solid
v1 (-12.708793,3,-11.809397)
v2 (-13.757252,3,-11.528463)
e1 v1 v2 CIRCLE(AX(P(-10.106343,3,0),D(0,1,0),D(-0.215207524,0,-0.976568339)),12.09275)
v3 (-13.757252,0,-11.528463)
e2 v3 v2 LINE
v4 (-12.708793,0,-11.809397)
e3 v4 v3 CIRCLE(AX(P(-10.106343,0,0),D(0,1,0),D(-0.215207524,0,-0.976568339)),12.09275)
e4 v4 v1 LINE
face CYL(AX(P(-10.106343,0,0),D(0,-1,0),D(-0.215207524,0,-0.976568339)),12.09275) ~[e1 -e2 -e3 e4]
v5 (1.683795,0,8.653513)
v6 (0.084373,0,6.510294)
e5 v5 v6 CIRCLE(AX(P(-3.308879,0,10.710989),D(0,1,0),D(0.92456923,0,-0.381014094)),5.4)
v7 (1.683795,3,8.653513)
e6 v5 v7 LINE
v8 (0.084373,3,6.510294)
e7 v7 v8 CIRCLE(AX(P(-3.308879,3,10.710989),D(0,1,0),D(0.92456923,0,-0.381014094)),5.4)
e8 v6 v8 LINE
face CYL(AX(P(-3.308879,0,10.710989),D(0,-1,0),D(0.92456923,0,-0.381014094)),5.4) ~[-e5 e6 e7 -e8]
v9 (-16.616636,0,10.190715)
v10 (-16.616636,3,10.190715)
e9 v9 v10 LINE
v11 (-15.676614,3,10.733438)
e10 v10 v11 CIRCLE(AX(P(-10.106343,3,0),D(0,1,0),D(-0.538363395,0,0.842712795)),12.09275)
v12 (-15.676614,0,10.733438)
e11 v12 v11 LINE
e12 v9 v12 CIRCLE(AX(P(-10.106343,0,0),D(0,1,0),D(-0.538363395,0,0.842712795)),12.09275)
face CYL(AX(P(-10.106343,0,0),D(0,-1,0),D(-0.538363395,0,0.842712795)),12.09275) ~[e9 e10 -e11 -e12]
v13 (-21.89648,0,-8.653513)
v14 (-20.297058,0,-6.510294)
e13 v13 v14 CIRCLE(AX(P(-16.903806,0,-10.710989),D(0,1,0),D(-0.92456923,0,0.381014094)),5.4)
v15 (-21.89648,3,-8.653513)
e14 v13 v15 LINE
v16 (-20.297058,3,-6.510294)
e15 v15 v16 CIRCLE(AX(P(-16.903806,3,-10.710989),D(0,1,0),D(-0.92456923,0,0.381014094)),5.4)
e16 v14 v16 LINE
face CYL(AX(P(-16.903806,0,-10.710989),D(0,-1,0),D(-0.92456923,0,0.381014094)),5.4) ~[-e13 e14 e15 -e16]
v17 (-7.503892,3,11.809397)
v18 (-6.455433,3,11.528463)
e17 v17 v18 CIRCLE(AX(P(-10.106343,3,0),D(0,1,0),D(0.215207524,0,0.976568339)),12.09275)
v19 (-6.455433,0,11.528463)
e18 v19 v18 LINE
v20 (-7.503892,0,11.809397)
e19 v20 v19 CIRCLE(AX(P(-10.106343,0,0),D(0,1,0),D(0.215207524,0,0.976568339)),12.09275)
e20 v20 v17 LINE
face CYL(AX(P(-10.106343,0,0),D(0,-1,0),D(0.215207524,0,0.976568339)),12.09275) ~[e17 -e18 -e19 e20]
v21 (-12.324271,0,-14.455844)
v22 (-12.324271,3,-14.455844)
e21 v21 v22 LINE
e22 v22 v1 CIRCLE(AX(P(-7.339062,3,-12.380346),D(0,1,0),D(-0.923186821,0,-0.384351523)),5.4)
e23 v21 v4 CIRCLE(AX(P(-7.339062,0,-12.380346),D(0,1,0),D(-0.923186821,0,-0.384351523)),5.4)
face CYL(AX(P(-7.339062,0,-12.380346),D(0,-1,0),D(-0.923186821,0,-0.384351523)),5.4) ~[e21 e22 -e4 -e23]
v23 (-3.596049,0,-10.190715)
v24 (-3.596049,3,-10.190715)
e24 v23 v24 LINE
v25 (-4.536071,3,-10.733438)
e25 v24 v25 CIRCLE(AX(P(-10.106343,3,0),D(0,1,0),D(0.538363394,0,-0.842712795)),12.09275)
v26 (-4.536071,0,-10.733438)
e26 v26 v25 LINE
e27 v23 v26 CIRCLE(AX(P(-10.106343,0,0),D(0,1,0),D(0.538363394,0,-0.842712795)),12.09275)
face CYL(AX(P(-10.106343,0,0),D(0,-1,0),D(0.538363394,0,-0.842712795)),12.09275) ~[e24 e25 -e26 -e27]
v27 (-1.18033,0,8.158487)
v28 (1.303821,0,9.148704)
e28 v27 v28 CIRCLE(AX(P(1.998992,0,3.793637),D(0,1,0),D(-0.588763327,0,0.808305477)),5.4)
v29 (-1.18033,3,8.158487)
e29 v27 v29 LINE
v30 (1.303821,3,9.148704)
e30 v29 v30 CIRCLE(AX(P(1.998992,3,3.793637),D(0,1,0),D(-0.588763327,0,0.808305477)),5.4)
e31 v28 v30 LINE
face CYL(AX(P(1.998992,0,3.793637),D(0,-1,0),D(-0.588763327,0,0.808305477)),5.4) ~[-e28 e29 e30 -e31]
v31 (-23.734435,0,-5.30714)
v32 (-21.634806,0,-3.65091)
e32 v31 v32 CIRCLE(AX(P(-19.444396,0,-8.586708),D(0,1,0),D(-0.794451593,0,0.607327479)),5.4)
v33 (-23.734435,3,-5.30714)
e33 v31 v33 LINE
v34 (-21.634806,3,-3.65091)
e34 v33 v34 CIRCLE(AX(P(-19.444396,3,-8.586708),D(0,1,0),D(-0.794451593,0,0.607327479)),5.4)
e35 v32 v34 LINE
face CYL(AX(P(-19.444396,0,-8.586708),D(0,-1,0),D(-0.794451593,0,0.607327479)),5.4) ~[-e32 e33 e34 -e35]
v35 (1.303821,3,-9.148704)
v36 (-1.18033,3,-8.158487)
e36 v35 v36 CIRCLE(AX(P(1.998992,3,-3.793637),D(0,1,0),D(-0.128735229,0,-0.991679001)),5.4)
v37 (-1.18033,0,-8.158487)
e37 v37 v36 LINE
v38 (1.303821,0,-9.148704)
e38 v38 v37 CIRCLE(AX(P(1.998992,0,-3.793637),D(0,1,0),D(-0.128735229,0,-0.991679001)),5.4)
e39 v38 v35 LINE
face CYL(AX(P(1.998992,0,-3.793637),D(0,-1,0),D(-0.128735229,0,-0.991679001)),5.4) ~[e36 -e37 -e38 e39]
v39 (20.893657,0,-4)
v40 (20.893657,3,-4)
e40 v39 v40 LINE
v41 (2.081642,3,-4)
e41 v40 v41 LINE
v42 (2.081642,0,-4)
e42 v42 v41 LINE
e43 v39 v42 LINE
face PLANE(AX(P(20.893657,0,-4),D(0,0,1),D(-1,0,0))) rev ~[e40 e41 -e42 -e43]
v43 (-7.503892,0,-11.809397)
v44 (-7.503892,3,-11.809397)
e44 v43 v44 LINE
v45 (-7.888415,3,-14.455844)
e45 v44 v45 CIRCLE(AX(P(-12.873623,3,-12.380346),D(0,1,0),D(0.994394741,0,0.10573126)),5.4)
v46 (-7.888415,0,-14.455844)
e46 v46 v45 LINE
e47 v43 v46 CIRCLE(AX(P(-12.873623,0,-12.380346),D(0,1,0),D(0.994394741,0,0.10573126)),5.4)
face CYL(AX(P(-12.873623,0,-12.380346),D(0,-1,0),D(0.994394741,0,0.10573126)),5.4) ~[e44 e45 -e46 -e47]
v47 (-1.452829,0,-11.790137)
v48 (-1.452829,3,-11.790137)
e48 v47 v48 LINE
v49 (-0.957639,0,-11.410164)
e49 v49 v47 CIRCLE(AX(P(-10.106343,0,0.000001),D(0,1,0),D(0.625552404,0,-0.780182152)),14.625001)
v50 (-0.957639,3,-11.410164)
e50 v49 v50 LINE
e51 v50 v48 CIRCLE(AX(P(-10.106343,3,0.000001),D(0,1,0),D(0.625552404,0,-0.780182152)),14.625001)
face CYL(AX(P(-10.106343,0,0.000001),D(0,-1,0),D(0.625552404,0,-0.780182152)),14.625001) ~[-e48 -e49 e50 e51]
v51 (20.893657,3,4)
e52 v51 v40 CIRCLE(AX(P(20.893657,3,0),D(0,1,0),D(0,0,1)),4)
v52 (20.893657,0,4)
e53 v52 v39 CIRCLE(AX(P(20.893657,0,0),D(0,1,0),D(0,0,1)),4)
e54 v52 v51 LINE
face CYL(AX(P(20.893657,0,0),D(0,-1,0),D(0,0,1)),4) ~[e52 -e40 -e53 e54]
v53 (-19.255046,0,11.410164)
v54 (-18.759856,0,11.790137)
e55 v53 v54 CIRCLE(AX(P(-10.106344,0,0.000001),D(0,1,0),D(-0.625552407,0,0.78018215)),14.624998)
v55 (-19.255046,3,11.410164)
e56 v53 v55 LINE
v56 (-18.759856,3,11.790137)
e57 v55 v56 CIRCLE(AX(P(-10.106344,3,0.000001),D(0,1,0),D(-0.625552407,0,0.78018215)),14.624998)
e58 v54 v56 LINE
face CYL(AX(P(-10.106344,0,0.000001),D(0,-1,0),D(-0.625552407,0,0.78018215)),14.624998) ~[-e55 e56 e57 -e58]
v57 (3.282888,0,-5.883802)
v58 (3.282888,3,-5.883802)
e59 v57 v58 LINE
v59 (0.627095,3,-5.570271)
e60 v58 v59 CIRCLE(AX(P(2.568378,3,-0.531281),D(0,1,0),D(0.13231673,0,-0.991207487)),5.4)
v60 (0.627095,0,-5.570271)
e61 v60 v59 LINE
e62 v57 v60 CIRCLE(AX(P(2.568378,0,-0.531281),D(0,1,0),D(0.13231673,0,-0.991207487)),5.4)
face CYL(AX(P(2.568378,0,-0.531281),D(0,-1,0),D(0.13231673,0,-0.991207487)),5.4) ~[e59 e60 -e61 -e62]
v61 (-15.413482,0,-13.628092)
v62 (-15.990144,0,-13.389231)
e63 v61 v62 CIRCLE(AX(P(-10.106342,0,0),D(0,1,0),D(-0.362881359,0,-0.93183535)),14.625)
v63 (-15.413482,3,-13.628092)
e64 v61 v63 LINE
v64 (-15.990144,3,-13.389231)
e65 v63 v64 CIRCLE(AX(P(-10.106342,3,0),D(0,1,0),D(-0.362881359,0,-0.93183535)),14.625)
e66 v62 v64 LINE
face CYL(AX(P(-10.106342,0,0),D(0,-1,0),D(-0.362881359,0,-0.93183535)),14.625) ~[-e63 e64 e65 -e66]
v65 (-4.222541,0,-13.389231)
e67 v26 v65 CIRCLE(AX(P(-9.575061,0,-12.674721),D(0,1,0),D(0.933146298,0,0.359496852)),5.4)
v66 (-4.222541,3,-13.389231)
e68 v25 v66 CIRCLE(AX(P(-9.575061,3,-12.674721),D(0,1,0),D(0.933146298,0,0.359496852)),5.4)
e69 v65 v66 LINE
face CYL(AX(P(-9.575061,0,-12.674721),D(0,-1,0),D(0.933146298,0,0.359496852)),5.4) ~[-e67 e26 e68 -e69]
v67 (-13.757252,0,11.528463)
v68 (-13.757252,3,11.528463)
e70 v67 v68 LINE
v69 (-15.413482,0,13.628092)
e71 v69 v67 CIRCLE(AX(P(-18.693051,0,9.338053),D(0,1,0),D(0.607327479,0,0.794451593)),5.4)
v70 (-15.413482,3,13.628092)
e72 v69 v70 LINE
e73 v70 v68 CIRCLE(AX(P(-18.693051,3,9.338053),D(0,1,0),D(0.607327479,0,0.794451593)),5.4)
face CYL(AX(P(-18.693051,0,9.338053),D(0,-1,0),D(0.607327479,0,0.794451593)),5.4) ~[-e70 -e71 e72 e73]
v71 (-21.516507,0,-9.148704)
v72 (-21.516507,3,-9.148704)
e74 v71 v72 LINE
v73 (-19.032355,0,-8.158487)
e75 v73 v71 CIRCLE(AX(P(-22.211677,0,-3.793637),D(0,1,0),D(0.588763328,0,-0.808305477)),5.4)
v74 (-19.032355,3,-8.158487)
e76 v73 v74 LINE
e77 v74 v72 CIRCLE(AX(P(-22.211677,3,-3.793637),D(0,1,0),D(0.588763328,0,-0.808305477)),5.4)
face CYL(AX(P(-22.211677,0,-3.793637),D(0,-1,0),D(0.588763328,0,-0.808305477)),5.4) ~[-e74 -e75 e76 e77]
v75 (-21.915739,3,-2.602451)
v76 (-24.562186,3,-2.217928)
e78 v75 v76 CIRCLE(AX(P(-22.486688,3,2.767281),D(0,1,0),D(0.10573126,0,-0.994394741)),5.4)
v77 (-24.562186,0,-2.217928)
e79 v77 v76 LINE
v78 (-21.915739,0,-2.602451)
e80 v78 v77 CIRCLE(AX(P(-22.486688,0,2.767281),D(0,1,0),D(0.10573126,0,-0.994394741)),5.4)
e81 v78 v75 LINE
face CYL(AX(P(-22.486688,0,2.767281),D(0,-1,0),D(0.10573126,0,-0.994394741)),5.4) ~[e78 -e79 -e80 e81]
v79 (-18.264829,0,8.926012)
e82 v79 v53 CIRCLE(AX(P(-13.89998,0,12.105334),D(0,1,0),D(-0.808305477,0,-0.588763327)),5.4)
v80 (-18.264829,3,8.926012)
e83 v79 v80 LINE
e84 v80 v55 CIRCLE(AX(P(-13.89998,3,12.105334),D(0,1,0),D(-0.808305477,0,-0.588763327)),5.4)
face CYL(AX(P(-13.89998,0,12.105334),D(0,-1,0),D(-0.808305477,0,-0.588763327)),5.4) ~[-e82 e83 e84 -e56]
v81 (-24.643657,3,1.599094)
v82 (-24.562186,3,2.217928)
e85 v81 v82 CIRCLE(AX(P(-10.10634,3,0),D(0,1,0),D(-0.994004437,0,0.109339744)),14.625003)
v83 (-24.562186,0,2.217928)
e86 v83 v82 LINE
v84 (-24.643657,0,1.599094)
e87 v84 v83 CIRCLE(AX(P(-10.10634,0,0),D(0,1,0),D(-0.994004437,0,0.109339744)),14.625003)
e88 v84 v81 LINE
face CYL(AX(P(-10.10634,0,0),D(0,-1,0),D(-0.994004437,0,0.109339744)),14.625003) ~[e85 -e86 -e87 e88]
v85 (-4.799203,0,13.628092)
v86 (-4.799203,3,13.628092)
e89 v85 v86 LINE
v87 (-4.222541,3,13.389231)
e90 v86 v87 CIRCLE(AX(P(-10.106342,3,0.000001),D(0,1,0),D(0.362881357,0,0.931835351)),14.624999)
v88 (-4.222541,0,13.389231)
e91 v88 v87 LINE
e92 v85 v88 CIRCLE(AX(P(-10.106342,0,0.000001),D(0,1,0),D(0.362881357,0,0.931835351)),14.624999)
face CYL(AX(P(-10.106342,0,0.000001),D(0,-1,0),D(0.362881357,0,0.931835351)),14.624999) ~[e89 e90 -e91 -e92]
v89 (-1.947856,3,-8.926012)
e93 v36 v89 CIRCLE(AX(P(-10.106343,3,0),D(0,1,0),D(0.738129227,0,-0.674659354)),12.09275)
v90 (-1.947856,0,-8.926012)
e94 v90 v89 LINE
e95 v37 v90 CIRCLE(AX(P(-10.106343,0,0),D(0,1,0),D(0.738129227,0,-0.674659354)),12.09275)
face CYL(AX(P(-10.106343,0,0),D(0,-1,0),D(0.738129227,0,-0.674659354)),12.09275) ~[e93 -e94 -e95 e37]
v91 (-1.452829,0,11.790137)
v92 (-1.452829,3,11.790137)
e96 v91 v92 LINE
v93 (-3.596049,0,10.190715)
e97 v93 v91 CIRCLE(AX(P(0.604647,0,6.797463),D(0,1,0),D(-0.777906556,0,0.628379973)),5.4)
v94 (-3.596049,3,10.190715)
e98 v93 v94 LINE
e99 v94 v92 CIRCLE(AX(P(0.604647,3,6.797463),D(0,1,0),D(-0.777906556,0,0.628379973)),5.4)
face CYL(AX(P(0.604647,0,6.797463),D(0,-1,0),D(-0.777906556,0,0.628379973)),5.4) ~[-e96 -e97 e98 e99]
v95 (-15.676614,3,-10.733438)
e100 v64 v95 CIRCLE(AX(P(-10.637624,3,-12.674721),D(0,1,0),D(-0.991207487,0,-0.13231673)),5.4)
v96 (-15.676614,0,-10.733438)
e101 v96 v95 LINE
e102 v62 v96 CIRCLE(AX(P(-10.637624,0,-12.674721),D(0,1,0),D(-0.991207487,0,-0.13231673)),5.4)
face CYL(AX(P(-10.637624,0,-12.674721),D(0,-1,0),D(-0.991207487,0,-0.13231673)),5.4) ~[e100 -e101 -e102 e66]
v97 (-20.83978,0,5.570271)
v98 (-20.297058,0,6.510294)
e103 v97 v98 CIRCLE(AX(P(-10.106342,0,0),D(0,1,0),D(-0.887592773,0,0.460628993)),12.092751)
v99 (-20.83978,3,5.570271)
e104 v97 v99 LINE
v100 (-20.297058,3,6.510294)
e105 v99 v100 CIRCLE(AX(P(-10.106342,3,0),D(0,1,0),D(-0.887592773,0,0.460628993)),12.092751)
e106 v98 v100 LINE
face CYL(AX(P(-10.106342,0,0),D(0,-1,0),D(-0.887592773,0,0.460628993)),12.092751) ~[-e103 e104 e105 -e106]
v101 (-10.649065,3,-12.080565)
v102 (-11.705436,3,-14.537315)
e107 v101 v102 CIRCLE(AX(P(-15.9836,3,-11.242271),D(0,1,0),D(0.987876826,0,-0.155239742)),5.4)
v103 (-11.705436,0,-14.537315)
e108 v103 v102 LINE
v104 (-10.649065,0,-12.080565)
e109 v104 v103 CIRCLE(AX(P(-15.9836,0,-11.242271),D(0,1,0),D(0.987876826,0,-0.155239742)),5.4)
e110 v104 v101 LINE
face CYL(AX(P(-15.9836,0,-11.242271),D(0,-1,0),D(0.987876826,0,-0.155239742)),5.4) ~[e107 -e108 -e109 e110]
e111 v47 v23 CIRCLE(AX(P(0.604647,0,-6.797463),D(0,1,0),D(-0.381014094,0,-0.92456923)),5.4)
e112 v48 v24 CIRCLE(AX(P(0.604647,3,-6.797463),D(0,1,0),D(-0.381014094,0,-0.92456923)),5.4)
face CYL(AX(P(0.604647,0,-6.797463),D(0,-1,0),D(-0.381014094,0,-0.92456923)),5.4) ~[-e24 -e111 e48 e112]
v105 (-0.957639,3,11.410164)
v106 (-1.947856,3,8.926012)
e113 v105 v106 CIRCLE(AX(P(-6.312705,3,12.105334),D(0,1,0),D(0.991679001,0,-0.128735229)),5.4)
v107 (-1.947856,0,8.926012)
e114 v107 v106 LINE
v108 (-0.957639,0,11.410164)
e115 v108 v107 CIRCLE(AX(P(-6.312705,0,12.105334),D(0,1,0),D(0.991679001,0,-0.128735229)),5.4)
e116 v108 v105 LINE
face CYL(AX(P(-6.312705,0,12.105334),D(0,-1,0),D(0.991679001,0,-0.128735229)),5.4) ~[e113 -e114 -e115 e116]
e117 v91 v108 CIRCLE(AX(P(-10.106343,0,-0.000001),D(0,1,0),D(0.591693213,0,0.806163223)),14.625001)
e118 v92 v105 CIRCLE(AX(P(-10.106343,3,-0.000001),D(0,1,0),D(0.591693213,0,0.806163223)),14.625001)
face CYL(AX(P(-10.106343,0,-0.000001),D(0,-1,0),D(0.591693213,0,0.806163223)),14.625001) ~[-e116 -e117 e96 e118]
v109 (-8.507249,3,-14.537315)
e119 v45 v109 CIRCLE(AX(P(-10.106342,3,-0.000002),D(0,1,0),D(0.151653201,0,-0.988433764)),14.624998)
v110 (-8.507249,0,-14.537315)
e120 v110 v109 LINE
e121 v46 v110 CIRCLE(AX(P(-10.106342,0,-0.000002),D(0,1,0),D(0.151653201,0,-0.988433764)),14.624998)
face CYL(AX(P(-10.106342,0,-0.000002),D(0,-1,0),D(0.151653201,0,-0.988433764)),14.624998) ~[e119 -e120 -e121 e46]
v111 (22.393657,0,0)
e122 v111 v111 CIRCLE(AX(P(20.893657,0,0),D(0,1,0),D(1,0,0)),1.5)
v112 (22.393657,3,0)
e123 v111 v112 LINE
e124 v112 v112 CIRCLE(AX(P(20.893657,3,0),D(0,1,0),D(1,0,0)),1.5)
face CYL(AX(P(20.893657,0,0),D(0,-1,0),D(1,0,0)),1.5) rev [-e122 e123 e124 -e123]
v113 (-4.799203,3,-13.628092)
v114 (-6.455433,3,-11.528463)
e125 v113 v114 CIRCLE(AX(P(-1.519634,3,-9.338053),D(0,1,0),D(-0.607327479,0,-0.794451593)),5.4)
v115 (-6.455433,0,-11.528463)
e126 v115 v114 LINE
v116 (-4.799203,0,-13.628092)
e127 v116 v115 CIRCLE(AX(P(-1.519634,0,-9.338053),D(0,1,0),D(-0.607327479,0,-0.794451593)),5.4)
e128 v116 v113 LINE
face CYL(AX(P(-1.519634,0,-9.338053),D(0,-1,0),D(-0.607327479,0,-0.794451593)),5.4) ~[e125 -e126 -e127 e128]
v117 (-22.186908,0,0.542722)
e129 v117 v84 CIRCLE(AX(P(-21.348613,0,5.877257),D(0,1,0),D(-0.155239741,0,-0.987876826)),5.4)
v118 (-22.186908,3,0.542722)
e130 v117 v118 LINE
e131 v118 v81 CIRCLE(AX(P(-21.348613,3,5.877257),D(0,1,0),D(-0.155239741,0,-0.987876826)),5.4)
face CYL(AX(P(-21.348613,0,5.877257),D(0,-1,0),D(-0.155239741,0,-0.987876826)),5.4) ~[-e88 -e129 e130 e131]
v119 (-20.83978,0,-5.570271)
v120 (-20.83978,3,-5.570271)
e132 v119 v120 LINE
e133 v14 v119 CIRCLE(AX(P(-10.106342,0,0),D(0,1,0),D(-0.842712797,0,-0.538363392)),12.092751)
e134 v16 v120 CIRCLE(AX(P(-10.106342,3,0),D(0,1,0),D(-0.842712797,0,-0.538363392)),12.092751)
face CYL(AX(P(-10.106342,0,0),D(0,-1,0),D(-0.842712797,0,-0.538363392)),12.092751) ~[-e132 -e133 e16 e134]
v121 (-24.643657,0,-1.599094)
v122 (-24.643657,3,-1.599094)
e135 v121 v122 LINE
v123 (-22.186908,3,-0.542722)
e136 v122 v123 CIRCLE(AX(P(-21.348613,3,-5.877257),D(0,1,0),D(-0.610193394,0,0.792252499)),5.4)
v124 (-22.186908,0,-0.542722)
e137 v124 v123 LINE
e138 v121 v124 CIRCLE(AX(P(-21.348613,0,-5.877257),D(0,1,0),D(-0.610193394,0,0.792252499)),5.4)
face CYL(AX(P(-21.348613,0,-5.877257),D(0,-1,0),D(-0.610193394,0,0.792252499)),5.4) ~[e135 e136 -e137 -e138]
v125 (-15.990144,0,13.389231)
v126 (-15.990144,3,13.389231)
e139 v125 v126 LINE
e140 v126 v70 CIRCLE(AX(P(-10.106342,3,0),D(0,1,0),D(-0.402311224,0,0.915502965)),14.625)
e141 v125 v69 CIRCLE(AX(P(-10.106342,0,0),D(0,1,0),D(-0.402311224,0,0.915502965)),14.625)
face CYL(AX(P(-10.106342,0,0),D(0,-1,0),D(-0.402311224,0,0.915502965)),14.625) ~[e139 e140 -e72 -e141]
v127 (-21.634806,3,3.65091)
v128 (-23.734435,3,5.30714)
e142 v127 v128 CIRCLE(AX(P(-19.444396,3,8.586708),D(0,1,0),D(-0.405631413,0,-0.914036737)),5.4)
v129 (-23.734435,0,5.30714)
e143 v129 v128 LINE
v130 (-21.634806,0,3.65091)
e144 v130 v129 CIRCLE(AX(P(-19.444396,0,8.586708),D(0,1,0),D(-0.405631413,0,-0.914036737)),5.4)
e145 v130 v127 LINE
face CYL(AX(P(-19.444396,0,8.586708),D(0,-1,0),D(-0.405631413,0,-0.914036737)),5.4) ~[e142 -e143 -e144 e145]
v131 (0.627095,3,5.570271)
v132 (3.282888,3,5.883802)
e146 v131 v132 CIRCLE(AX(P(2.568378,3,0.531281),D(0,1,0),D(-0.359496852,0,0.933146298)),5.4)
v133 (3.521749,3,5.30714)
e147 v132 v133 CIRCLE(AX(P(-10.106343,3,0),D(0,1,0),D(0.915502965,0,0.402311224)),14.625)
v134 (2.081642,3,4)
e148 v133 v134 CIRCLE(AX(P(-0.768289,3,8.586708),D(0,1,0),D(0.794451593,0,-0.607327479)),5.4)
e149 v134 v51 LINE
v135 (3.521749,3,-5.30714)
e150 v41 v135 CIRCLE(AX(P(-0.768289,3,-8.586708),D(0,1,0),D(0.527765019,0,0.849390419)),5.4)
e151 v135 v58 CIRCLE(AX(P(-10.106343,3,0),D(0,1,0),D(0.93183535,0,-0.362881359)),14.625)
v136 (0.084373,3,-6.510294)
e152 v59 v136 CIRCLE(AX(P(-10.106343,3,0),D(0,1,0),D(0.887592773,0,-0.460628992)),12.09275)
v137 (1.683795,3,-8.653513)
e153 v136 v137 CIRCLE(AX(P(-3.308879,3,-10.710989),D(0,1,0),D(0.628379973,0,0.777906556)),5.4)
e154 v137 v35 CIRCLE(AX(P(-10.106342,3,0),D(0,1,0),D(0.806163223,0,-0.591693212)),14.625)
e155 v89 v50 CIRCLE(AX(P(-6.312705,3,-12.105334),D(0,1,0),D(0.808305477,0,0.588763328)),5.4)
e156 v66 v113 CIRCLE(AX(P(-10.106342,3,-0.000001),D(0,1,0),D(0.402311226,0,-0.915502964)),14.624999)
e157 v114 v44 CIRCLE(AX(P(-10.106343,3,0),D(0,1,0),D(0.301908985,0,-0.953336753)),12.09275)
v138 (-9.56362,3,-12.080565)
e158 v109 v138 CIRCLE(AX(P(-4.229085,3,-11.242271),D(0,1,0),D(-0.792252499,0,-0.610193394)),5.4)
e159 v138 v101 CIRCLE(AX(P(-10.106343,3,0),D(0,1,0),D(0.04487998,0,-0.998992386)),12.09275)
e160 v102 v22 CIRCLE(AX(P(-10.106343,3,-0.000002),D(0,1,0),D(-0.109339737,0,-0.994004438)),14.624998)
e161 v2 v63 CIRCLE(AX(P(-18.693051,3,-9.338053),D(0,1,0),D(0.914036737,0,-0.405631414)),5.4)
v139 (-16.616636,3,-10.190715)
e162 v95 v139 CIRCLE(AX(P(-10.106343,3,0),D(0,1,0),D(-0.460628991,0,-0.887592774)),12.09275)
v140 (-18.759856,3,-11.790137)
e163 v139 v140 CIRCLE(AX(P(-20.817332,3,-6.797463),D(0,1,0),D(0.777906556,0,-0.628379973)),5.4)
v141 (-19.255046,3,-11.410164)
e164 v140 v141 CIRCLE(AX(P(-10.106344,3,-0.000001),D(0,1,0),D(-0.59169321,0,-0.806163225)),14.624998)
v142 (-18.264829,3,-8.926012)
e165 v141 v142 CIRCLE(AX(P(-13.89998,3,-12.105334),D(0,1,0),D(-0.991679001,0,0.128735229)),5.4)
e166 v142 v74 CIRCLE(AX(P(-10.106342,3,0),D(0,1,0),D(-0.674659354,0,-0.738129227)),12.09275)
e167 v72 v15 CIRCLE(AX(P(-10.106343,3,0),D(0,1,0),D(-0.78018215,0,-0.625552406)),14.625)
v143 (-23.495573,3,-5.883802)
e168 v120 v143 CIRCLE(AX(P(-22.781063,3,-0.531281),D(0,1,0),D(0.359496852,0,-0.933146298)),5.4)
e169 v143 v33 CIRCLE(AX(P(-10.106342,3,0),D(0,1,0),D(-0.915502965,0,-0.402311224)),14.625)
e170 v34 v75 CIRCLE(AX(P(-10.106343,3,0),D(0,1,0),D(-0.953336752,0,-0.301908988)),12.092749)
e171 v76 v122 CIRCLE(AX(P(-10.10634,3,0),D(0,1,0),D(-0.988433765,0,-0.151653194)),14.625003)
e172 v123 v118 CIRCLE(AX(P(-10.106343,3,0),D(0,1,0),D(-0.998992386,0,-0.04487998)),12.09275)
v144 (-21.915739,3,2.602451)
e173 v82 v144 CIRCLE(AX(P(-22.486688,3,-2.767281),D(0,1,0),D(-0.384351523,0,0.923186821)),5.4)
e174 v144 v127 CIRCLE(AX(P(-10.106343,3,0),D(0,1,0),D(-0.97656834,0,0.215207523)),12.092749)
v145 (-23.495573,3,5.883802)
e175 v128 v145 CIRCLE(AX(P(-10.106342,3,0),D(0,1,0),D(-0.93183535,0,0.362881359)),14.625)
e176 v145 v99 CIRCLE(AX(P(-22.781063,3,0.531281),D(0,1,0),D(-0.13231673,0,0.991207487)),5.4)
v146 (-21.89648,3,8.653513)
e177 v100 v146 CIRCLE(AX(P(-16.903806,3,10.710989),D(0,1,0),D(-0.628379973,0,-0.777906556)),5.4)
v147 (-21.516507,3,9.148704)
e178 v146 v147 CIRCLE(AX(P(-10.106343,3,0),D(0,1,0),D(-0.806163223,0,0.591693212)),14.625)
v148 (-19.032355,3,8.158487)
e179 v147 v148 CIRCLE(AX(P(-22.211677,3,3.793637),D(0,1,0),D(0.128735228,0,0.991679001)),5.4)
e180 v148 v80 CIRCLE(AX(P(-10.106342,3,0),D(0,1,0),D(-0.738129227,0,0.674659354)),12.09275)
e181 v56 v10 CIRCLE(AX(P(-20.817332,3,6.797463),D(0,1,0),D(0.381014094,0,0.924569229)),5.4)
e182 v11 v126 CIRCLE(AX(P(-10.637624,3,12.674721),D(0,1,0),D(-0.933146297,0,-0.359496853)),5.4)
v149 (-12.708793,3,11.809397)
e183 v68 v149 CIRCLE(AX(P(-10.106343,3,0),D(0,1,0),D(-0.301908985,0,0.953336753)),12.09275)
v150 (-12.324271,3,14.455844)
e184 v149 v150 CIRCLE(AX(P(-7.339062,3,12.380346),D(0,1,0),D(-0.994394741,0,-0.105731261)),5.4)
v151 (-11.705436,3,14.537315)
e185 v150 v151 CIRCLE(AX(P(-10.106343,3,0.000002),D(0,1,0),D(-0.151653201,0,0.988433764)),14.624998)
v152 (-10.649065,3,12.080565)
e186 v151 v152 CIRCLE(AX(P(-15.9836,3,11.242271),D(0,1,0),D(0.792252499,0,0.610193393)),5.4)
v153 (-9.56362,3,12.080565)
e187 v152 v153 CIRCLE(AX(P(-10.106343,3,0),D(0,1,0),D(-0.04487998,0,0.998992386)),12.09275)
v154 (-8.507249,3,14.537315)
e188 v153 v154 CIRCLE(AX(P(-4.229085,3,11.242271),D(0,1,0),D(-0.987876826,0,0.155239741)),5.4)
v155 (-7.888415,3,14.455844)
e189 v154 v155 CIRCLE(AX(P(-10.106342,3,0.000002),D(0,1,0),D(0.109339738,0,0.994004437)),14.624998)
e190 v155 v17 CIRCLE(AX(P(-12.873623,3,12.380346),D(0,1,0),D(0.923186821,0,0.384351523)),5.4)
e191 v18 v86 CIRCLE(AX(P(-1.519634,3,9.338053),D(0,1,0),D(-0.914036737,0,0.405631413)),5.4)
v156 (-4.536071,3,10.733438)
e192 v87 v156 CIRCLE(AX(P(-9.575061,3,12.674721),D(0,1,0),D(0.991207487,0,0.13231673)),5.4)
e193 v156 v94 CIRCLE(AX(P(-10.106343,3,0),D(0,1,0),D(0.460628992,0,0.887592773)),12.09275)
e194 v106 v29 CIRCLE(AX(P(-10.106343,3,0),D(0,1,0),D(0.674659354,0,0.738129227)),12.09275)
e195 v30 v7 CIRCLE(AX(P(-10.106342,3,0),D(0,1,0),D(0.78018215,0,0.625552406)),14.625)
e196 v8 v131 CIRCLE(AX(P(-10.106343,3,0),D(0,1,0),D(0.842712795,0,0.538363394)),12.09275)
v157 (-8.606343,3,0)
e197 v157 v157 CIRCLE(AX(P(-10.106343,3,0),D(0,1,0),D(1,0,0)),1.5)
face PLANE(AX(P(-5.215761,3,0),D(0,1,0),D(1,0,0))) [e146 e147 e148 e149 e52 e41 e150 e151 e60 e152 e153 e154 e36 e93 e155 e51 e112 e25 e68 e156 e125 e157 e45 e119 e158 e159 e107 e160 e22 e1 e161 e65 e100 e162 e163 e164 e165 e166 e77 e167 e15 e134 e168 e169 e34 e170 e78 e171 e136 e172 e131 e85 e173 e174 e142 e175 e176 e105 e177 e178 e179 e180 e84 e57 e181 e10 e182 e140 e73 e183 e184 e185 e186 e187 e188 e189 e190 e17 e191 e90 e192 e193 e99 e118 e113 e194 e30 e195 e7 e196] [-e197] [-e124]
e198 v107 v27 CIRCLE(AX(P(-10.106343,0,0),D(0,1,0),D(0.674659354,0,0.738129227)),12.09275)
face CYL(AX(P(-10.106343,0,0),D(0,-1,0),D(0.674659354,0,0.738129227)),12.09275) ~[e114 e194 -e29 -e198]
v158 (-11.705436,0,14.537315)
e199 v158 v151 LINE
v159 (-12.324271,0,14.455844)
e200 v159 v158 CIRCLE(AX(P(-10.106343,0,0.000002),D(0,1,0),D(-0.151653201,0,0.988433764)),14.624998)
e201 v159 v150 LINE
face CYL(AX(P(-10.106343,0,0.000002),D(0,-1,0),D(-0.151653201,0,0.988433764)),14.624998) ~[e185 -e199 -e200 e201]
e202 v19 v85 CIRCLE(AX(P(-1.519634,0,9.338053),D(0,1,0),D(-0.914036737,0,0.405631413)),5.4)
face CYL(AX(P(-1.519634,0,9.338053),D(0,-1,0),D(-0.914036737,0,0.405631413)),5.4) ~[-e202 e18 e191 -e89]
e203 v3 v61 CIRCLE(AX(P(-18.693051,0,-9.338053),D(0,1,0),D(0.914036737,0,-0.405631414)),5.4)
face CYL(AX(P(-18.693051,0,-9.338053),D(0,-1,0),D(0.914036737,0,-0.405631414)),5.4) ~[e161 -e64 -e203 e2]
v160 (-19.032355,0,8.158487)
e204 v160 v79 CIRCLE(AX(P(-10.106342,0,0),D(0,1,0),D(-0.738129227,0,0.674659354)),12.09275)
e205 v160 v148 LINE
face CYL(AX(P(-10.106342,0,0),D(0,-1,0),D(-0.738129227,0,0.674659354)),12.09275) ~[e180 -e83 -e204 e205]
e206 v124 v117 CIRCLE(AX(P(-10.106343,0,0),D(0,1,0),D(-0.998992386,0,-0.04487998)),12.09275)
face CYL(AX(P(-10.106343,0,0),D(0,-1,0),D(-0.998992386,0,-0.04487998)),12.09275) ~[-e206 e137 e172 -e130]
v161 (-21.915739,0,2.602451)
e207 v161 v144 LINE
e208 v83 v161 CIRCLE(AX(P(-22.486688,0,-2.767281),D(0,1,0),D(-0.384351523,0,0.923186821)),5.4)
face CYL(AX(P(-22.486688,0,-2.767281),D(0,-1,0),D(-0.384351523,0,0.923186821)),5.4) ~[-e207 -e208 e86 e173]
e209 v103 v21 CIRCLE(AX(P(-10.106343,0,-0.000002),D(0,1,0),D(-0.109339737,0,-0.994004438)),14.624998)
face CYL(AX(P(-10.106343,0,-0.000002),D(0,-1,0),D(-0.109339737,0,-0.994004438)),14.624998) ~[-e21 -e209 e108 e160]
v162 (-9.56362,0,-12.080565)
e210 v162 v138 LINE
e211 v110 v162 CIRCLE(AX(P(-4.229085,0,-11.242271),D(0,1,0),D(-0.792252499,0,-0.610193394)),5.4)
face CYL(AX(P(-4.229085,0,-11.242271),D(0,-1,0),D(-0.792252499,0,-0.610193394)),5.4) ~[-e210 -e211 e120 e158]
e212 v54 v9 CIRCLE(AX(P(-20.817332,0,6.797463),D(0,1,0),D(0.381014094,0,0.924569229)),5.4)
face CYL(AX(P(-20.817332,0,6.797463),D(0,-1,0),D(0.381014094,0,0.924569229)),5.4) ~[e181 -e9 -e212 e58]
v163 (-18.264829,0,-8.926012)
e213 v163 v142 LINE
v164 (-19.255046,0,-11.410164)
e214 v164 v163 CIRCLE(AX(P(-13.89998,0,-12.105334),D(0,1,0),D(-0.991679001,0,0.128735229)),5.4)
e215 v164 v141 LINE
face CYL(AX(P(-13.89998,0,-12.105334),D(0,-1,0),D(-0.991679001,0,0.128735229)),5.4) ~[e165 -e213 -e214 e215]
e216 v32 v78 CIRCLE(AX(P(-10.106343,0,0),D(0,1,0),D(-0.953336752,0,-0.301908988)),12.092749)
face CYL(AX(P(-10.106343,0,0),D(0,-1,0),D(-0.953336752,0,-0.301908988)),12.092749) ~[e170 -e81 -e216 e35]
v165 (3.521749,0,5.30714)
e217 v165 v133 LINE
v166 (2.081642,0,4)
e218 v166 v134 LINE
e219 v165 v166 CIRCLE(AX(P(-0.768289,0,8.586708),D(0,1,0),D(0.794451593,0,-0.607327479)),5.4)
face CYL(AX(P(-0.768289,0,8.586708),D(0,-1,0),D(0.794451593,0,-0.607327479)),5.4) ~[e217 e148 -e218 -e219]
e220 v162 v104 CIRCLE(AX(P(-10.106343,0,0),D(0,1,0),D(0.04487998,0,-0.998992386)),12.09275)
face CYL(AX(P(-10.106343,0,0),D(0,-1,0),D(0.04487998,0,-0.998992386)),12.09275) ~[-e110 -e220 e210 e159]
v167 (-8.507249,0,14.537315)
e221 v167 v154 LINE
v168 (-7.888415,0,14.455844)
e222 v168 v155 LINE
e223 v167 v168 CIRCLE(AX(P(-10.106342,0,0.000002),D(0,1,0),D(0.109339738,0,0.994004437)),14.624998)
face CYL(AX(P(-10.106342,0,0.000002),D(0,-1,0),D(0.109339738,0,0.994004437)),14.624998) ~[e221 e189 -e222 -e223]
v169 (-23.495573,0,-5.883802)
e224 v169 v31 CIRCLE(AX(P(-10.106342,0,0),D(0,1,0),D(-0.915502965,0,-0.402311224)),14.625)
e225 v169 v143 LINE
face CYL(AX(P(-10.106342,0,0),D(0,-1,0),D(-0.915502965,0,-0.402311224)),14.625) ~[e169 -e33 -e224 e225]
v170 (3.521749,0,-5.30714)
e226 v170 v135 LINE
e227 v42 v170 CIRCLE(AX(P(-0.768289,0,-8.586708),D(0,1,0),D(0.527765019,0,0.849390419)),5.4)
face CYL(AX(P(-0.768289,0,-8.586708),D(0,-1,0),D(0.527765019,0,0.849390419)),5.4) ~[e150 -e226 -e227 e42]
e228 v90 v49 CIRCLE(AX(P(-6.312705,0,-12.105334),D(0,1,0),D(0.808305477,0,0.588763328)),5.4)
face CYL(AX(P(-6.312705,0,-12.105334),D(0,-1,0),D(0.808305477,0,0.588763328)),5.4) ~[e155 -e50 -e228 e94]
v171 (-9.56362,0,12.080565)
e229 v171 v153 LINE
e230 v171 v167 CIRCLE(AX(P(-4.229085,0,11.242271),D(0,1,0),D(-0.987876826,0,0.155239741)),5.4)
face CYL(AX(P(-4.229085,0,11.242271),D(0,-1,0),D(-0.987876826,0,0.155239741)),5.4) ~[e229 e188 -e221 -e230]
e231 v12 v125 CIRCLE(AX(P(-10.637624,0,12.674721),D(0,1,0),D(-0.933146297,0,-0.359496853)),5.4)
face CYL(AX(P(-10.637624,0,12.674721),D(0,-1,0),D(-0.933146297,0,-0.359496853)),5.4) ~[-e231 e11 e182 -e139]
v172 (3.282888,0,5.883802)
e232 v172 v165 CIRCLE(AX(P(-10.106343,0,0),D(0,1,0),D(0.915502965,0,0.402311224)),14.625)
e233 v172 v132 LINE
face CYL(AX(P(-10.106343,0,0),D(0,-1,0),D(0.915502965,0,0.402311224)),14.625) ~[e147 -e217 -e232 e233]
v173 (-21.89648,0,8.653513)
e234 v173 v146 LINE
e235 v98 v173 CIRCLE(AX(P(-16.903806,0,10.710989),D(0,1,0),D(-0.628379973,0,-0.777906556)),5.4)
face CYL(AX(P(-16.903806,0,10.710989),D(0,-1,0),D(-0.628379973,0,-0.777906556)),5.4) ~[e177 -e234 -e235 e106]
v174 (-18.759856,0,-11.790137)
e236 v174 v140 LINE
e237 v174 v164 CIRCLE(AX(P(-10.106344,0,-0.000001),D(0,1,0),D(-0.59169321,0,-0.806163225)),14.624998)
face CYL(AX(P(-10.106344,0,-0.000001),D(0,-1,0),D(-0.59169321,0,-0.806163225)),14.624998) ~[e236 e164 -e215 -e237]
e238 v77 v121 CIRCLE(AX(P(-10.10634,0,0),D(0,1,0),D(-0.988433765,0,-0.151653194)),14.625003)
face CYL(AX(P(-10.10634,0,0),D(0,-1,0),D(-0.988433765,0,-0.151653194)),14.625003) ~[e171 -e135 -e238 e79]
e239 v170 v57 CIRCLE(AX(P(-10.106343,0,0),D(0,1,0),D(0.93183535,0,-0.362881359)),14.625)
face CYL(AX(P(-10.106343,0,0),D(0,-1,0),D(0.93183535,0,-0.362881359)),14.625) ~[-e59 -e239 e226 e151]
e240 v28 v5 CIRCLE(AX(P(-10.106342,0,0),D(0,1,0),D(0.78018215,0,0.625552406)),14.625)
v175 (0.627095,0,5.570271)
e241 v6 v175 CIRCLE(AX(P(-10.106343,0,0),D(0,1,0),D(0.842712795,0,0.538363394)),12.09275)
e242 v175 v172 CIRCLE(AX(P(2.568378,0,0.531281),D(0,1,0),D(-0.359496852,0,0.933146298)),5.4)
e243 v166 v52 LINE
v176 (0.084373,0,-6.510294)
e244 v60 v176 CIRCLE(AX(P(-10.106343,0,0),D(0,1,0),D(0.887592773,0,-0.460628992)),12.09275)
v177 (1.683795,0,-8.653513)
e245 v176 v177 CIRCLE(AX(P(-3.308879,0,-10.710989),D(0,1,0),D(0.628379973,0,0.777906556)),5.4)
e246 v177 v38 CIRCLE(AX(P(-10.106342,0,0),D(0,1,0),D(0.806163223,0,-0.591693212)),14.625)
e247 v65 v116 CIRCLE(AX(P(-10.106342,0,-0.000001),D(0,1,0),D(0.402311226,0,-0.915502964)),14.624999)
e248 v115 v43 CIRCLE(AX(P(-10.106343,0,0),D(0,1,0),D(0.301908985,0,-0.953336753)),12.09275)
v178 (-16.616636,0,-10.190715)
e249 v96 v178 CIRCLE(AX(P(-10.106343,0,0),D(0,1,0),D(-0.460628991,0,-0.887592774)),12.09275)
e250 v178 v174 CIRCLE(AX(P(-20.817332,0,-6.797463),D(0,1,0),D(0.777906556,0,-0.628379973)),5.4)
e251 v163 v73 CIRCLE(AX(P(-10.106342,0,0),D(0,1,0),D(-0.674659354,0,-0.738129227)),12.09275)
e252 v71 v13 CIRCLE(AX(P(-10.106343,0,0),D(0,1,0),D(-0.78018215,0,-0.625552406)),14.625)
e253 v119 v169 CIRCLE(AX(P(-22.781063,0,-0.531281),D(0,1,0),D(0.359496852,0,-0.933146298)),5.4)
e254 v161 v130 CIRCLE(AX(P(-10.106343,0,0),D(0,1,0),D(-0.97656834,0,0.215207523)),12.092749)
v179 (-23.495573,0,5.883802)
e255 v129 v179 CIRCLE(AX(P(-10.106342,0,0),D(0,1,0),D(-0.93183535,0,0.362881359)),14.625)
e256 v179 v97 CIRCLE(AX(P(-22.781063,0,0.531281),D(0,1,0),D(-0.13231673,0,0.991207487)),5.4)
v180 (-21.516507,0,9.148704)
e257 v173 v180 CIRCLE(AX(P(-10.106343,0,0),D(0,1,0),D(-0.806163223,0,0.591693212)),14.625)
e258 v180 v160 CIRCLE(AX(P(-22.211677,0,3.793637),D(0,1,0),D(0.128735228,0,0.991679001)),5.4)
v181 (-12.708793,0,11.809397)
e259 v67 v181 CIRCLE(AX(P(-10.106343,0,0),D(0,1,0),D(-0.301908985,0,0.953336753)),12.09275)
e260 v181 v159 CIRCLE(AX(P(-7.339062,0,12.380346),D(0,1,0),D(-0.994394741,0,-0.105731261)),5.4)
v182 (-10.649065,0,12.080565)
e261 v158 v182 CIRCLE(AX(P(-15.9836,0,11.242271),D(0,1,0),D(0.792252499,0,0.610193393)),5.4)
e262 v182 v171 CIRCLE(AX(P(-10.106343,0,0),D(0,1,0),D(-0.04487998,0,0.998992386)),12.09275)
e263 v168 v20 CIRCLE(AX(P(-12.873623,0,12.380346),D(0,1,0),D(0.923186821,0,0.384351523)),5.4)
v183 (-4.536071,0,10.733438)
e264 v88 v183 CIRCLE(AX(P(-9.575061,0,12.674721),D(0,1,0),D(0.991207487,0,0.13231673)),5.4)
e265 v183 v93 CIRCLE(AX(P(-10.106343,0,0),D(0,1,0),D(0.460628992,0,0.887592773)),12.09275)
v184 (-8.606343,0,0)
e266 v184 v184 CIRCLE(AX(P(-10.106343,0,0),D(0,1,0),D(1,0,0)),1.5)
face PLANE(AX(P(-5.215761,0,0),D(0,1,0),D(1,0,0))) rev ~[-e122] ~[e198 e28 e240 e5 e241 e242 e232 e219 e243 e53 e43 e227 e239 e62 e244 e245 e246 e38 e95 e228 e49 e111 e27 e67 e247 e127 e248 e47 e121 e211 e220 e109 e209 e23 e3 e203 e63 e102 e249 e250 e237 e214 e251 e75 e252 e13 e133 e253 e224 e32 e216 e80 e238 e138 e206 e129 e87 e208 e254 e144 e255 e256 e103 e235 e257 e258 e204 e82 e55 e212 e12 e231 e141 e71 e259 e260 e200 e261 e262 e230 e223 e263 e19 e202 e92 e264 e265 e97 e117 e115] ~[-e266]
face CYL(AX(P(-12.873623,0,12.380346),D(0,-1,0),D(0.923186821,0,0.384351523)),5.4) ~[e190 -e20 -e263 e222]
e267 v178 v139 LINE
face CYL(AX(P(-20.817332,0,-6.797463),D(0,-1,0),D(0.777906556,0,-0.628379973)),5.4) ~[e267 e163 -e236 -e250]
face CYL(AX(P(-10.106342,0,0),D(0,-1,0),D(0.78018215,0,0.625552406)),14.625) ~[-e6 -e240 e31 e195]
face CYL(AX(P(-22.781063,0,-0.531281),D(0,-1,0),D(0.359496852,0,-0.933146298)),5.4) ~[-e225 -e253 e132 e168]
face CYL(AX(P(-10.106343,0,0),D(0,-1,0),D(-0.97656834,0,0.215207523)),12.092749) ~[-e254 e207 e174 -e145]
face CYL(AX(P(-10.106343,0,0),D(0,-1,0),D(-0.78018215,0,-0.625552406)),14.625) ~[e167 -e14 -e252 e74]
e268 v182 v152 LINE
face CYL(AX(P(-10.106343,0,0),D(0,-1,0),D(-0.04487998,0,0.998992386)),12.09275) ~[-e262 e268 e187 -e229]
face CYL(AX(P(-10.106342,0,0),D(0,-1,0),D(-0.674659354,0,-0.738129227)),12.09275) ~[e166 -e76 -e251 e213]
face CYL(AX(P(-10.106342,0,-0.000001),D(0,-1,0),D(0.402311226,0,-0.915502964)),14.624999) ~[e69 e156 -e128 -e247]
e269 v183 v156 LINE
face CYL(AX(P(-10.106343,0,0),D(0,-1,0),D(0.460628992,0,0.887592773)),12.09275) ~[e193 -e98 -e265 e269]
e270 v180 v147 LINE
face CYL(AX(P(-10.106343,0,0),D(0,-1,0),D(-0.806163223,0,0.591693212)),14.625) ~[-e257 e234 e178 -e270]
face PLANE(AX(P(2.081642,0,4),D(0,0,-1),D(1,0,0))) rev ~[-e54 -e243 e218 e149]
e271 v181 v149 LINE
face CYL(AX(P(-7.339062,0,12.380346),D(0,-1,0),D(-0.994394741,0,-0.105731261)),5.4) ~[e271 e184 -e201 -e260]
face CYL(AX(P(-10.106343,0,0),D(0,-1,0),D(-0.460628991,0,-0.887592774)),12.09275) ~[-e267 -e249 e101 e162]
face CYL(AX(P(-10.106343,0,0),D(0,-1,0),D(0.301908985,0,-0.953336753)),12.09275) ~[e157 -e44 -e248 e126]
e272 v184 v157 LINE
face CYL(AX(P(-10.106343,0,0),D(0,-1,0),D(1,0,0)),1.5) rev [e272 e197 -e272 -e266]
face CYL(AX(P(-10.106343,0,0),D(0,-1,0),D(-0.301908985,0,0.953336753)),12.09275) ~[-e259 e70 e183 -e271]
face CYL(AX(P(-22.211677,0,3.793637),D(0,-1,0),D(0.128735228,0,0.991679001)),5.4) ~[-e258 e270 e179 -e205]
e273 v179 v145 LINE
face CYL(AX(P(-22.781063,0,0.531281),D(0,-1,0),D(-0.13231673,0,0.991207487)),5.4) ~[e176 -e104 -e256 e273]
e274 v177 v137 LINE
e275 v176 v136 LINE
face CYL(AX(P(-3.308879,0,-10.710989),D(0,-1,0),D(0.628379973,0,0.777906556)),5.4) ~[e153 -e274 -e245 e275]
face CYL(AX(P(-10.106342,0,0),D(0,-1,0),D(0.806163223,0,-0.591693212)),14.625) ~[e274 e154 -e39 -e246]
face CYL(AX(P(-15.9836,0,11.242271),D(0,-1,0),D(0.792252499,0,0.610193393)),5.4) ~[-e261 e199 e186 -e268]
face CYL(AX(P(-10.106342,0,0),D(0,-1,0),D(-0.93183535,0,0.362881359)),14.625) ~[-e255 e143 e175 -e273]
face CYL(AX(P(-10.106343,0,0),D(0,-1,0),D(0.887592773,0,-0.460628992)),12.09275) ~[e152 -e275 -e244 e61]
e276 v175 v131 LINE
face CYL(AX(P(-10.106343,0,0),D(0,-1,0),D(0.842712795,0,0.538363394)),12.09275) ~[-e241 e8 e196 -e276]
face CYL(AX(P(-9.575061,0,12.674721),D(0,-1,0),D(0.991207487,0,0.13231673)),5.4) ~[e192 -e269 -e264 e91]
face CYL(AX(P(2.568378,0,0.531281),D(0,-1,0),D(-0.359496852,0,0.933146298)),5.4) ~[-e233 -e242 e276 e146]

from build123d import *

# Parameters (mm, degrees)
SKETCH1_R           = 1.5
BOSS_EXTRUDE1_DEPTH = 3


with BuildPart() as part:
    # Sketch1 → Boss-Extrude1 (new body)
    with BuildSketch(Plane(origin=(0, 0, 0), x_dir=(1, 0, 0), z_dir=(0, 1, 0))):
        with BuildLine():
            Line((20.893657446, 4), (2.081641936, 4))
            ThreePointArc((2.081641936, 4), (2.861028333, 4.588201733), (3.521749436, 5.30713988))
            ThreePointArc((3.521749436, 5.30713988), (3.405395609, 5.596745198), (3.282888305, 5.883801663))
            ThreePointArc((3.282888305, 5.883801663), (1.93527598, 5.894040025), (0.627094961, 5.57027124))
            ThreePointArc((0.627094961, 5.57027124), (0.366286148, 6.046375), (0.084372603, 6.510293938))
            ThreePointArc((0.084372603, 6.510293938), (1.018855105, 7.48132754), (1.683794586, 8.65351323))
            ThreePointArc((1.683794586, 8.65351323), (1.496450048, 8.903135899), (1.303821399, 9.148703928))
            ThreePointArc((1.303821399, 9.148703928), (-0.000522033, 8.809805691), (-1.180330337, 8.158486898))
            ThreePointArc((-1.180330337, 8.158486898), (-1.555477026, 8.550865528), (-1.947855656, 8.926012217))
            ThreePointArc((-1.947855656, 8.926012217), (-1.296536862, 10.105820521), (-0.957638625, 11.410163953))
            ThreePointArc((-0.957638625, 11.410163953), (-1.203206655, 11.602792602), (-1.452829324, 11.79013714))
            ThreePointArc((-1.452829324, 11.79013714), (-2.625015014, 11.125197659), (-3.596048616, 10.190715157))
            ThreePointArc((-3.596048616, 10.190715157), (-4.059967554, 10.472628702), (-4.536071314, 10.733437515))
            ThreePointArc((-4.536071314, 10.733437515), (-4.212302529, 12.041618533), (-4.222540891, 13.389230859))
            ThreePointArc((-4.222540891, 13.389230859), (-4.509597355, 13.511738163), (-4.799202674, 13.62809199))
            ThreePointArc((-4.799202674, 13.62809199), (-5.759348103, 12.682425791), (-6.455432668, 11.528463019))
            ThreePointArc((-6.455432668, 11.528463019), (-6.976508546, 11.680699536), (-7.503891752, 11.809396783))
            ThreePointArc((-7.503891752, 11.809396783), (-7.529737283, 13.156800143), (-7.888414517, 14.455843809))
            ThreePointArc((-7.888414517, 14.455843809), (-8.197396993, 14.499881098), (-8.507248835, 14.537314892))
            ThreePointArc((-8.507248835, 14.537314892), (-9.18992168, 13.375367565), (-9.563620196, 12.080565177))
            ThreePointArc((-9.563620196, 12.080565177), (-10.106342554, 12.09275), (-10.649064912, 12.080565177))
            ThreePointArc((-10.649064912, 12.080565177), (-11.022763428, 13.375367565), (-11.705436272, 14.537314892))
            ThreePointArc((-11.705436272, 14.537314892), (-12.015288115, 14.499881098), (-12.324270591, 14.455843809))
            ThreePointArc((-12.324270591, 14.455843809), (-12.682947825, 13.156800143), (-12.708793355, 11.809396783))
            ThreePointArc((-12.708793355, 11.809396783), (-13.236176561, 11.680699536), (-13.757252439, 11.528463019))
            ThreePointArc((-13.757252439, 11.528463019), (-14.453337005, 12.682425791), (-15.413482434, 13.62809199))
            ThreePointArc((-15.413482434, 13.62809199), (-15.703087752, 13.511738163), (-15.990144217, 13.389230859))
            ThreePointArc((-15.990144217, 13.389230859), (-16.000382579, 12.041618533), (-15.676613793, 10.733437515))
            ThreePointArc((-15.676613793, 10.733437515), (-16.152717554, 10.472628702), (-16.616636492, 10.190715157))
            ThreePointArc((-16.616636492, 10.190715157), (-17.587670094, 11.125197659), (-18.759855783, 11.79013714))
            ThreePointArc((-18.759855783, 11.79013714), (-19.009478453, 11.602792602), (-19.255046482, 11.410163953))
            ThreePointArc((-19.255046482, 11.410163953), (-18.916148245, 10.105820521), (-18.264829452, 8.926012217))
            ThreePointArc((-18.264829452, 8.926012217), (-18.657208082, 8.550865528), (-19.032354771, 8.158486898))
            ThreePointArc((-19.032354771, 8.158486898), (-20.212163074, 8.809805691), (-21.516506507, 9.148703928))
            ThreePointArc((-21.516506507, 9.148703928), (-21.709135156, 8.903135899), (-21.896479694, 8.65351323))
            ThreePointArc((-21.896479694, 8.65351323), (-21.231540213, 7.48132754), (-20.297057711, 6.510293938))
            ThreePointArc((-20.297057711, 6.510293938), (-20.578971255, 6.046375), (-20.839780068, 5.57027124))
            ThreePointArc((-20.839780068, 5.57027124), (-22.147961087, 5.894040025), (-23.495573413, 5.883801663))
            ThreePointArc((-23.495573413, 5.883801663), (-23.618080717, 5.596745198), (-23.734434544, 5.30713988))
            ThreePointArc((-23.734434544, 5.30713988), (-22.788768345, 4.346994451), (-21.634805572, 3.650909885))
            ThreePointArc((-21.634805572, 3.650909885), (-21.78704209, 3.129834008), (-21.915739337, 2.602450802))
            ThreePointArc((-21.915739337, 2.602450802), (-23.263142697, 2.576605271), (-24.562186363, 2.217928037))
            ThreePointArc((-24.562186363, 2.217928037), (-24.606223651, 1.908945561), (-24.643657446, 1.599093719))
            ThreePointArc((-24.643657446, 1.599093719), (-23.481710119, 0.916420874), (-22.186907731, 0.542722358))
            ThreePointArc((-22.186907731, 0.542722358), (-22.199092554, 0), (-22.186907731, -0.542722358))
            ThreePointArc((-22.186907731, -0.542722358), (-23.481710119, -0.916420874), (-24.643657446, -1.599093719))
            ThreePointArc((-24.643657446, -1.599093719), (-24.606223651, -1.908945561), (-24.562186363, -2.217928037))
            ThreePointArc((-24.562186363, -2.217928037), (-23.263142697, -2.576605271), (-21.915739337, -2.602450802))
            ThreePointArc((-21.915739337, -2.602450802), (-21.78704209, -3.129834008), (-21.634805572, -3.650909885))
            ThreePointArc((-21.634805572, -3.650909885), (-22.788768345, -4.346994451), (-23.734434544, -5.30713988))
            ThreePointArc((-23.734434544, -5.30713988), (-23.618080717, -5.596745198), (-23.495573413, -5.883801663))
            ThreePointArc((-23.495573413, -5.883801663), (-22.147961087, -5.894040025), (-20.839780068, -5.57027124))
            ThreePointArc((-20.839780068, -5.57027124), (-20.578971255, -6.046375), (-20.297057711, -6.510293938))
            ThreePointArc((-20.297057711, -6.510293938), (-21.231540213, -7.48132754), (-21.896479694, -8.65351323))
            ThreePointArc((-21.896479694, -8.65351323), (-21.709135156, -8.903135899), (-21.516506507, -9.148703928))
            ThreePointArc((-21.516506507, -9.148703928), (-20.212163074, -8.809805691), (-19.032354771, -8.158486898))
            ThreePointArc((-19.032354771, -8.158486898), (-18.657208082, -8.550865528), (-18.264829452, -8.926012217))
            ThreePointArc((-18.264829452, -8.926012217), (-18.916148245, -10.105820521), (-19.255046482, -11.410163953))
            ThreePointArc((-19.255046482, -11.410163953), (-19.009478453, -11.602792602), (-18.759855783, -11.79013714))
            ThreePointArc((-18.759855783, -11.79013714), (-17.587670094, -11.125197659), (-16.616636492, -10.190715157))
            ThreePointArc((-16.616636492, -10.190715157), (-16.152717554, -10.472628702), (-15.676613793, -10.733437515))
            ThreePointArc((-15.676613793, -10.733437515), (-16.000382579, -12.041618533), (-15.990144217, -13.389230859))
            ThreePointArc((-15.990144217, -13.389230859), (-15.703087752, -13.511738163), (-15.413482434, -13.62809199))
            ThreePointArc((-15.413482434, -13.62809199), (-14.453337005, -12.682425791), (-13.757252439, -11.528463019))
            ThreePointArc((-13.757252439, -11.528463019), (-13.236176561, -11.680699536), (-12.708793355, -11.809396783))
            ThreePointArc((-12.708793355, -11.809396783), (-12.682947825, -13.156800143), (-12.324270591, -14.455843809))
            ThreePointArc((-12.324270591, -14.455843809), (-12.015288115, -14.499881098), (-11.705436272, -14.537314892))
            ThreePointArc((-11.705436272, -14.537314892), (-11.022763428, -13.375367565), (-10.649064912, -12.080565177))
            ThreePointArc((-10.649064912, -12.080565177), (-10.106342554, -12.09275), (-9.563620196, -12.080565177))
            ThreePointArc((-9.563620196, -12.080565177), (-9.18992168, -13.375367565), (-8.507248835, -14.537314892))
            ThreePointArc((-8.507248835, -14.537314892), (-8.197396993, -14.499881098), (-7.888414517, -14.455843809))
            ThreePointArc((-7.888414517, -14.455843809), (-7.529737283, -13.156800143), (-7.503891752, -11.809396783))
            ThreePointArc((-7.503891752, -11.809396783), (-6.976508546, -11.680699536), (-6.455432668, -11.528463019))
            ThreePointArc((-6.455432668, -11.528463019), (-5.759348103, -12.682425791), (-4.799202674, -13.62809199))
            ThreePointArc((-4.799202674, -13.62809199), (-4.509597355, -13.511738163), (-4.222540891, -13.389230859))
            ThreePointArc((-4.222540891, -13.389230859), (-4.212302529, -12.041618533), (-4.536071314, -10.733437515))
            ThreePointArc((-4.536071314, -10.733437515), (-4.059967554, -10.472628702), (-3.596048616, -10.190715157))
            ThreePointArc((-3.596048616, -10.190715157), (-2.625015014, -11.125197659), (-1.452829324, -11.79013714))
            ThreePointArc((-1.452829324, -11.79013714), (-1.203206655, -11.602792602), (-0.957638625, -11.410163953))
            ThreePointArc((-0.957638625, -11.410163953), (-1.296536862, -10.105820521), (-1.947855656, -8.926012217))
            ThreePointArc((-1.947855656, -8.926012217), (-1.555477026, -8.550865528), (-1.180330337, -8.158486898))
            ThreePointArc((-1.180330337, -8.158486898), (-0.000522033, -8.809805691), (1.303821399, -9.148703928))
            ThreePointArc((1.303821399, -9.148703928), (1.496450048, -8.903135899), (1.683794586, -8.65351323))
            ThreePointArc((1.683794586, -8.65351323), (1.018855105, -7.48132754), (0.084372603, -6.510293938))
            ThreePointArc((0.084372603, -6.510293938), (0.366286148, -6.046375), (0.627094961, -5.57027124))
            ThreePointArc((0.627094961, -5.57027124), (1.93527598, -5.894040025), (3.282888305, -5.883801663))
            ThreePointArc((3.282888305, -5.883801663), (3.405395609, -5.596745198), (3.521749436, -5.30713988))
            ThreePointArc((3.521749436, -5.30713988), (2.861028333, -4.588201733), (2.081641936, -4))
            Line((2.081641936, -4), (20.893657446, -4))
            ThreePointArc((20.893657446, -4), (24.893657446, 0), (20.893657446, 4))
        make_face()
        with Locations((-10.106342554, 0)):
            Circle(SKETCH1_R, mode=Mode.SUBTRACT)
        with Locations((20.893657446, 0)):
            Circle(SKETCH1_R, mode=Mode.SUBTRACT)
    extrude(amount=BOSS_EXTRUDE1_DEPTH)


solid = part.part
